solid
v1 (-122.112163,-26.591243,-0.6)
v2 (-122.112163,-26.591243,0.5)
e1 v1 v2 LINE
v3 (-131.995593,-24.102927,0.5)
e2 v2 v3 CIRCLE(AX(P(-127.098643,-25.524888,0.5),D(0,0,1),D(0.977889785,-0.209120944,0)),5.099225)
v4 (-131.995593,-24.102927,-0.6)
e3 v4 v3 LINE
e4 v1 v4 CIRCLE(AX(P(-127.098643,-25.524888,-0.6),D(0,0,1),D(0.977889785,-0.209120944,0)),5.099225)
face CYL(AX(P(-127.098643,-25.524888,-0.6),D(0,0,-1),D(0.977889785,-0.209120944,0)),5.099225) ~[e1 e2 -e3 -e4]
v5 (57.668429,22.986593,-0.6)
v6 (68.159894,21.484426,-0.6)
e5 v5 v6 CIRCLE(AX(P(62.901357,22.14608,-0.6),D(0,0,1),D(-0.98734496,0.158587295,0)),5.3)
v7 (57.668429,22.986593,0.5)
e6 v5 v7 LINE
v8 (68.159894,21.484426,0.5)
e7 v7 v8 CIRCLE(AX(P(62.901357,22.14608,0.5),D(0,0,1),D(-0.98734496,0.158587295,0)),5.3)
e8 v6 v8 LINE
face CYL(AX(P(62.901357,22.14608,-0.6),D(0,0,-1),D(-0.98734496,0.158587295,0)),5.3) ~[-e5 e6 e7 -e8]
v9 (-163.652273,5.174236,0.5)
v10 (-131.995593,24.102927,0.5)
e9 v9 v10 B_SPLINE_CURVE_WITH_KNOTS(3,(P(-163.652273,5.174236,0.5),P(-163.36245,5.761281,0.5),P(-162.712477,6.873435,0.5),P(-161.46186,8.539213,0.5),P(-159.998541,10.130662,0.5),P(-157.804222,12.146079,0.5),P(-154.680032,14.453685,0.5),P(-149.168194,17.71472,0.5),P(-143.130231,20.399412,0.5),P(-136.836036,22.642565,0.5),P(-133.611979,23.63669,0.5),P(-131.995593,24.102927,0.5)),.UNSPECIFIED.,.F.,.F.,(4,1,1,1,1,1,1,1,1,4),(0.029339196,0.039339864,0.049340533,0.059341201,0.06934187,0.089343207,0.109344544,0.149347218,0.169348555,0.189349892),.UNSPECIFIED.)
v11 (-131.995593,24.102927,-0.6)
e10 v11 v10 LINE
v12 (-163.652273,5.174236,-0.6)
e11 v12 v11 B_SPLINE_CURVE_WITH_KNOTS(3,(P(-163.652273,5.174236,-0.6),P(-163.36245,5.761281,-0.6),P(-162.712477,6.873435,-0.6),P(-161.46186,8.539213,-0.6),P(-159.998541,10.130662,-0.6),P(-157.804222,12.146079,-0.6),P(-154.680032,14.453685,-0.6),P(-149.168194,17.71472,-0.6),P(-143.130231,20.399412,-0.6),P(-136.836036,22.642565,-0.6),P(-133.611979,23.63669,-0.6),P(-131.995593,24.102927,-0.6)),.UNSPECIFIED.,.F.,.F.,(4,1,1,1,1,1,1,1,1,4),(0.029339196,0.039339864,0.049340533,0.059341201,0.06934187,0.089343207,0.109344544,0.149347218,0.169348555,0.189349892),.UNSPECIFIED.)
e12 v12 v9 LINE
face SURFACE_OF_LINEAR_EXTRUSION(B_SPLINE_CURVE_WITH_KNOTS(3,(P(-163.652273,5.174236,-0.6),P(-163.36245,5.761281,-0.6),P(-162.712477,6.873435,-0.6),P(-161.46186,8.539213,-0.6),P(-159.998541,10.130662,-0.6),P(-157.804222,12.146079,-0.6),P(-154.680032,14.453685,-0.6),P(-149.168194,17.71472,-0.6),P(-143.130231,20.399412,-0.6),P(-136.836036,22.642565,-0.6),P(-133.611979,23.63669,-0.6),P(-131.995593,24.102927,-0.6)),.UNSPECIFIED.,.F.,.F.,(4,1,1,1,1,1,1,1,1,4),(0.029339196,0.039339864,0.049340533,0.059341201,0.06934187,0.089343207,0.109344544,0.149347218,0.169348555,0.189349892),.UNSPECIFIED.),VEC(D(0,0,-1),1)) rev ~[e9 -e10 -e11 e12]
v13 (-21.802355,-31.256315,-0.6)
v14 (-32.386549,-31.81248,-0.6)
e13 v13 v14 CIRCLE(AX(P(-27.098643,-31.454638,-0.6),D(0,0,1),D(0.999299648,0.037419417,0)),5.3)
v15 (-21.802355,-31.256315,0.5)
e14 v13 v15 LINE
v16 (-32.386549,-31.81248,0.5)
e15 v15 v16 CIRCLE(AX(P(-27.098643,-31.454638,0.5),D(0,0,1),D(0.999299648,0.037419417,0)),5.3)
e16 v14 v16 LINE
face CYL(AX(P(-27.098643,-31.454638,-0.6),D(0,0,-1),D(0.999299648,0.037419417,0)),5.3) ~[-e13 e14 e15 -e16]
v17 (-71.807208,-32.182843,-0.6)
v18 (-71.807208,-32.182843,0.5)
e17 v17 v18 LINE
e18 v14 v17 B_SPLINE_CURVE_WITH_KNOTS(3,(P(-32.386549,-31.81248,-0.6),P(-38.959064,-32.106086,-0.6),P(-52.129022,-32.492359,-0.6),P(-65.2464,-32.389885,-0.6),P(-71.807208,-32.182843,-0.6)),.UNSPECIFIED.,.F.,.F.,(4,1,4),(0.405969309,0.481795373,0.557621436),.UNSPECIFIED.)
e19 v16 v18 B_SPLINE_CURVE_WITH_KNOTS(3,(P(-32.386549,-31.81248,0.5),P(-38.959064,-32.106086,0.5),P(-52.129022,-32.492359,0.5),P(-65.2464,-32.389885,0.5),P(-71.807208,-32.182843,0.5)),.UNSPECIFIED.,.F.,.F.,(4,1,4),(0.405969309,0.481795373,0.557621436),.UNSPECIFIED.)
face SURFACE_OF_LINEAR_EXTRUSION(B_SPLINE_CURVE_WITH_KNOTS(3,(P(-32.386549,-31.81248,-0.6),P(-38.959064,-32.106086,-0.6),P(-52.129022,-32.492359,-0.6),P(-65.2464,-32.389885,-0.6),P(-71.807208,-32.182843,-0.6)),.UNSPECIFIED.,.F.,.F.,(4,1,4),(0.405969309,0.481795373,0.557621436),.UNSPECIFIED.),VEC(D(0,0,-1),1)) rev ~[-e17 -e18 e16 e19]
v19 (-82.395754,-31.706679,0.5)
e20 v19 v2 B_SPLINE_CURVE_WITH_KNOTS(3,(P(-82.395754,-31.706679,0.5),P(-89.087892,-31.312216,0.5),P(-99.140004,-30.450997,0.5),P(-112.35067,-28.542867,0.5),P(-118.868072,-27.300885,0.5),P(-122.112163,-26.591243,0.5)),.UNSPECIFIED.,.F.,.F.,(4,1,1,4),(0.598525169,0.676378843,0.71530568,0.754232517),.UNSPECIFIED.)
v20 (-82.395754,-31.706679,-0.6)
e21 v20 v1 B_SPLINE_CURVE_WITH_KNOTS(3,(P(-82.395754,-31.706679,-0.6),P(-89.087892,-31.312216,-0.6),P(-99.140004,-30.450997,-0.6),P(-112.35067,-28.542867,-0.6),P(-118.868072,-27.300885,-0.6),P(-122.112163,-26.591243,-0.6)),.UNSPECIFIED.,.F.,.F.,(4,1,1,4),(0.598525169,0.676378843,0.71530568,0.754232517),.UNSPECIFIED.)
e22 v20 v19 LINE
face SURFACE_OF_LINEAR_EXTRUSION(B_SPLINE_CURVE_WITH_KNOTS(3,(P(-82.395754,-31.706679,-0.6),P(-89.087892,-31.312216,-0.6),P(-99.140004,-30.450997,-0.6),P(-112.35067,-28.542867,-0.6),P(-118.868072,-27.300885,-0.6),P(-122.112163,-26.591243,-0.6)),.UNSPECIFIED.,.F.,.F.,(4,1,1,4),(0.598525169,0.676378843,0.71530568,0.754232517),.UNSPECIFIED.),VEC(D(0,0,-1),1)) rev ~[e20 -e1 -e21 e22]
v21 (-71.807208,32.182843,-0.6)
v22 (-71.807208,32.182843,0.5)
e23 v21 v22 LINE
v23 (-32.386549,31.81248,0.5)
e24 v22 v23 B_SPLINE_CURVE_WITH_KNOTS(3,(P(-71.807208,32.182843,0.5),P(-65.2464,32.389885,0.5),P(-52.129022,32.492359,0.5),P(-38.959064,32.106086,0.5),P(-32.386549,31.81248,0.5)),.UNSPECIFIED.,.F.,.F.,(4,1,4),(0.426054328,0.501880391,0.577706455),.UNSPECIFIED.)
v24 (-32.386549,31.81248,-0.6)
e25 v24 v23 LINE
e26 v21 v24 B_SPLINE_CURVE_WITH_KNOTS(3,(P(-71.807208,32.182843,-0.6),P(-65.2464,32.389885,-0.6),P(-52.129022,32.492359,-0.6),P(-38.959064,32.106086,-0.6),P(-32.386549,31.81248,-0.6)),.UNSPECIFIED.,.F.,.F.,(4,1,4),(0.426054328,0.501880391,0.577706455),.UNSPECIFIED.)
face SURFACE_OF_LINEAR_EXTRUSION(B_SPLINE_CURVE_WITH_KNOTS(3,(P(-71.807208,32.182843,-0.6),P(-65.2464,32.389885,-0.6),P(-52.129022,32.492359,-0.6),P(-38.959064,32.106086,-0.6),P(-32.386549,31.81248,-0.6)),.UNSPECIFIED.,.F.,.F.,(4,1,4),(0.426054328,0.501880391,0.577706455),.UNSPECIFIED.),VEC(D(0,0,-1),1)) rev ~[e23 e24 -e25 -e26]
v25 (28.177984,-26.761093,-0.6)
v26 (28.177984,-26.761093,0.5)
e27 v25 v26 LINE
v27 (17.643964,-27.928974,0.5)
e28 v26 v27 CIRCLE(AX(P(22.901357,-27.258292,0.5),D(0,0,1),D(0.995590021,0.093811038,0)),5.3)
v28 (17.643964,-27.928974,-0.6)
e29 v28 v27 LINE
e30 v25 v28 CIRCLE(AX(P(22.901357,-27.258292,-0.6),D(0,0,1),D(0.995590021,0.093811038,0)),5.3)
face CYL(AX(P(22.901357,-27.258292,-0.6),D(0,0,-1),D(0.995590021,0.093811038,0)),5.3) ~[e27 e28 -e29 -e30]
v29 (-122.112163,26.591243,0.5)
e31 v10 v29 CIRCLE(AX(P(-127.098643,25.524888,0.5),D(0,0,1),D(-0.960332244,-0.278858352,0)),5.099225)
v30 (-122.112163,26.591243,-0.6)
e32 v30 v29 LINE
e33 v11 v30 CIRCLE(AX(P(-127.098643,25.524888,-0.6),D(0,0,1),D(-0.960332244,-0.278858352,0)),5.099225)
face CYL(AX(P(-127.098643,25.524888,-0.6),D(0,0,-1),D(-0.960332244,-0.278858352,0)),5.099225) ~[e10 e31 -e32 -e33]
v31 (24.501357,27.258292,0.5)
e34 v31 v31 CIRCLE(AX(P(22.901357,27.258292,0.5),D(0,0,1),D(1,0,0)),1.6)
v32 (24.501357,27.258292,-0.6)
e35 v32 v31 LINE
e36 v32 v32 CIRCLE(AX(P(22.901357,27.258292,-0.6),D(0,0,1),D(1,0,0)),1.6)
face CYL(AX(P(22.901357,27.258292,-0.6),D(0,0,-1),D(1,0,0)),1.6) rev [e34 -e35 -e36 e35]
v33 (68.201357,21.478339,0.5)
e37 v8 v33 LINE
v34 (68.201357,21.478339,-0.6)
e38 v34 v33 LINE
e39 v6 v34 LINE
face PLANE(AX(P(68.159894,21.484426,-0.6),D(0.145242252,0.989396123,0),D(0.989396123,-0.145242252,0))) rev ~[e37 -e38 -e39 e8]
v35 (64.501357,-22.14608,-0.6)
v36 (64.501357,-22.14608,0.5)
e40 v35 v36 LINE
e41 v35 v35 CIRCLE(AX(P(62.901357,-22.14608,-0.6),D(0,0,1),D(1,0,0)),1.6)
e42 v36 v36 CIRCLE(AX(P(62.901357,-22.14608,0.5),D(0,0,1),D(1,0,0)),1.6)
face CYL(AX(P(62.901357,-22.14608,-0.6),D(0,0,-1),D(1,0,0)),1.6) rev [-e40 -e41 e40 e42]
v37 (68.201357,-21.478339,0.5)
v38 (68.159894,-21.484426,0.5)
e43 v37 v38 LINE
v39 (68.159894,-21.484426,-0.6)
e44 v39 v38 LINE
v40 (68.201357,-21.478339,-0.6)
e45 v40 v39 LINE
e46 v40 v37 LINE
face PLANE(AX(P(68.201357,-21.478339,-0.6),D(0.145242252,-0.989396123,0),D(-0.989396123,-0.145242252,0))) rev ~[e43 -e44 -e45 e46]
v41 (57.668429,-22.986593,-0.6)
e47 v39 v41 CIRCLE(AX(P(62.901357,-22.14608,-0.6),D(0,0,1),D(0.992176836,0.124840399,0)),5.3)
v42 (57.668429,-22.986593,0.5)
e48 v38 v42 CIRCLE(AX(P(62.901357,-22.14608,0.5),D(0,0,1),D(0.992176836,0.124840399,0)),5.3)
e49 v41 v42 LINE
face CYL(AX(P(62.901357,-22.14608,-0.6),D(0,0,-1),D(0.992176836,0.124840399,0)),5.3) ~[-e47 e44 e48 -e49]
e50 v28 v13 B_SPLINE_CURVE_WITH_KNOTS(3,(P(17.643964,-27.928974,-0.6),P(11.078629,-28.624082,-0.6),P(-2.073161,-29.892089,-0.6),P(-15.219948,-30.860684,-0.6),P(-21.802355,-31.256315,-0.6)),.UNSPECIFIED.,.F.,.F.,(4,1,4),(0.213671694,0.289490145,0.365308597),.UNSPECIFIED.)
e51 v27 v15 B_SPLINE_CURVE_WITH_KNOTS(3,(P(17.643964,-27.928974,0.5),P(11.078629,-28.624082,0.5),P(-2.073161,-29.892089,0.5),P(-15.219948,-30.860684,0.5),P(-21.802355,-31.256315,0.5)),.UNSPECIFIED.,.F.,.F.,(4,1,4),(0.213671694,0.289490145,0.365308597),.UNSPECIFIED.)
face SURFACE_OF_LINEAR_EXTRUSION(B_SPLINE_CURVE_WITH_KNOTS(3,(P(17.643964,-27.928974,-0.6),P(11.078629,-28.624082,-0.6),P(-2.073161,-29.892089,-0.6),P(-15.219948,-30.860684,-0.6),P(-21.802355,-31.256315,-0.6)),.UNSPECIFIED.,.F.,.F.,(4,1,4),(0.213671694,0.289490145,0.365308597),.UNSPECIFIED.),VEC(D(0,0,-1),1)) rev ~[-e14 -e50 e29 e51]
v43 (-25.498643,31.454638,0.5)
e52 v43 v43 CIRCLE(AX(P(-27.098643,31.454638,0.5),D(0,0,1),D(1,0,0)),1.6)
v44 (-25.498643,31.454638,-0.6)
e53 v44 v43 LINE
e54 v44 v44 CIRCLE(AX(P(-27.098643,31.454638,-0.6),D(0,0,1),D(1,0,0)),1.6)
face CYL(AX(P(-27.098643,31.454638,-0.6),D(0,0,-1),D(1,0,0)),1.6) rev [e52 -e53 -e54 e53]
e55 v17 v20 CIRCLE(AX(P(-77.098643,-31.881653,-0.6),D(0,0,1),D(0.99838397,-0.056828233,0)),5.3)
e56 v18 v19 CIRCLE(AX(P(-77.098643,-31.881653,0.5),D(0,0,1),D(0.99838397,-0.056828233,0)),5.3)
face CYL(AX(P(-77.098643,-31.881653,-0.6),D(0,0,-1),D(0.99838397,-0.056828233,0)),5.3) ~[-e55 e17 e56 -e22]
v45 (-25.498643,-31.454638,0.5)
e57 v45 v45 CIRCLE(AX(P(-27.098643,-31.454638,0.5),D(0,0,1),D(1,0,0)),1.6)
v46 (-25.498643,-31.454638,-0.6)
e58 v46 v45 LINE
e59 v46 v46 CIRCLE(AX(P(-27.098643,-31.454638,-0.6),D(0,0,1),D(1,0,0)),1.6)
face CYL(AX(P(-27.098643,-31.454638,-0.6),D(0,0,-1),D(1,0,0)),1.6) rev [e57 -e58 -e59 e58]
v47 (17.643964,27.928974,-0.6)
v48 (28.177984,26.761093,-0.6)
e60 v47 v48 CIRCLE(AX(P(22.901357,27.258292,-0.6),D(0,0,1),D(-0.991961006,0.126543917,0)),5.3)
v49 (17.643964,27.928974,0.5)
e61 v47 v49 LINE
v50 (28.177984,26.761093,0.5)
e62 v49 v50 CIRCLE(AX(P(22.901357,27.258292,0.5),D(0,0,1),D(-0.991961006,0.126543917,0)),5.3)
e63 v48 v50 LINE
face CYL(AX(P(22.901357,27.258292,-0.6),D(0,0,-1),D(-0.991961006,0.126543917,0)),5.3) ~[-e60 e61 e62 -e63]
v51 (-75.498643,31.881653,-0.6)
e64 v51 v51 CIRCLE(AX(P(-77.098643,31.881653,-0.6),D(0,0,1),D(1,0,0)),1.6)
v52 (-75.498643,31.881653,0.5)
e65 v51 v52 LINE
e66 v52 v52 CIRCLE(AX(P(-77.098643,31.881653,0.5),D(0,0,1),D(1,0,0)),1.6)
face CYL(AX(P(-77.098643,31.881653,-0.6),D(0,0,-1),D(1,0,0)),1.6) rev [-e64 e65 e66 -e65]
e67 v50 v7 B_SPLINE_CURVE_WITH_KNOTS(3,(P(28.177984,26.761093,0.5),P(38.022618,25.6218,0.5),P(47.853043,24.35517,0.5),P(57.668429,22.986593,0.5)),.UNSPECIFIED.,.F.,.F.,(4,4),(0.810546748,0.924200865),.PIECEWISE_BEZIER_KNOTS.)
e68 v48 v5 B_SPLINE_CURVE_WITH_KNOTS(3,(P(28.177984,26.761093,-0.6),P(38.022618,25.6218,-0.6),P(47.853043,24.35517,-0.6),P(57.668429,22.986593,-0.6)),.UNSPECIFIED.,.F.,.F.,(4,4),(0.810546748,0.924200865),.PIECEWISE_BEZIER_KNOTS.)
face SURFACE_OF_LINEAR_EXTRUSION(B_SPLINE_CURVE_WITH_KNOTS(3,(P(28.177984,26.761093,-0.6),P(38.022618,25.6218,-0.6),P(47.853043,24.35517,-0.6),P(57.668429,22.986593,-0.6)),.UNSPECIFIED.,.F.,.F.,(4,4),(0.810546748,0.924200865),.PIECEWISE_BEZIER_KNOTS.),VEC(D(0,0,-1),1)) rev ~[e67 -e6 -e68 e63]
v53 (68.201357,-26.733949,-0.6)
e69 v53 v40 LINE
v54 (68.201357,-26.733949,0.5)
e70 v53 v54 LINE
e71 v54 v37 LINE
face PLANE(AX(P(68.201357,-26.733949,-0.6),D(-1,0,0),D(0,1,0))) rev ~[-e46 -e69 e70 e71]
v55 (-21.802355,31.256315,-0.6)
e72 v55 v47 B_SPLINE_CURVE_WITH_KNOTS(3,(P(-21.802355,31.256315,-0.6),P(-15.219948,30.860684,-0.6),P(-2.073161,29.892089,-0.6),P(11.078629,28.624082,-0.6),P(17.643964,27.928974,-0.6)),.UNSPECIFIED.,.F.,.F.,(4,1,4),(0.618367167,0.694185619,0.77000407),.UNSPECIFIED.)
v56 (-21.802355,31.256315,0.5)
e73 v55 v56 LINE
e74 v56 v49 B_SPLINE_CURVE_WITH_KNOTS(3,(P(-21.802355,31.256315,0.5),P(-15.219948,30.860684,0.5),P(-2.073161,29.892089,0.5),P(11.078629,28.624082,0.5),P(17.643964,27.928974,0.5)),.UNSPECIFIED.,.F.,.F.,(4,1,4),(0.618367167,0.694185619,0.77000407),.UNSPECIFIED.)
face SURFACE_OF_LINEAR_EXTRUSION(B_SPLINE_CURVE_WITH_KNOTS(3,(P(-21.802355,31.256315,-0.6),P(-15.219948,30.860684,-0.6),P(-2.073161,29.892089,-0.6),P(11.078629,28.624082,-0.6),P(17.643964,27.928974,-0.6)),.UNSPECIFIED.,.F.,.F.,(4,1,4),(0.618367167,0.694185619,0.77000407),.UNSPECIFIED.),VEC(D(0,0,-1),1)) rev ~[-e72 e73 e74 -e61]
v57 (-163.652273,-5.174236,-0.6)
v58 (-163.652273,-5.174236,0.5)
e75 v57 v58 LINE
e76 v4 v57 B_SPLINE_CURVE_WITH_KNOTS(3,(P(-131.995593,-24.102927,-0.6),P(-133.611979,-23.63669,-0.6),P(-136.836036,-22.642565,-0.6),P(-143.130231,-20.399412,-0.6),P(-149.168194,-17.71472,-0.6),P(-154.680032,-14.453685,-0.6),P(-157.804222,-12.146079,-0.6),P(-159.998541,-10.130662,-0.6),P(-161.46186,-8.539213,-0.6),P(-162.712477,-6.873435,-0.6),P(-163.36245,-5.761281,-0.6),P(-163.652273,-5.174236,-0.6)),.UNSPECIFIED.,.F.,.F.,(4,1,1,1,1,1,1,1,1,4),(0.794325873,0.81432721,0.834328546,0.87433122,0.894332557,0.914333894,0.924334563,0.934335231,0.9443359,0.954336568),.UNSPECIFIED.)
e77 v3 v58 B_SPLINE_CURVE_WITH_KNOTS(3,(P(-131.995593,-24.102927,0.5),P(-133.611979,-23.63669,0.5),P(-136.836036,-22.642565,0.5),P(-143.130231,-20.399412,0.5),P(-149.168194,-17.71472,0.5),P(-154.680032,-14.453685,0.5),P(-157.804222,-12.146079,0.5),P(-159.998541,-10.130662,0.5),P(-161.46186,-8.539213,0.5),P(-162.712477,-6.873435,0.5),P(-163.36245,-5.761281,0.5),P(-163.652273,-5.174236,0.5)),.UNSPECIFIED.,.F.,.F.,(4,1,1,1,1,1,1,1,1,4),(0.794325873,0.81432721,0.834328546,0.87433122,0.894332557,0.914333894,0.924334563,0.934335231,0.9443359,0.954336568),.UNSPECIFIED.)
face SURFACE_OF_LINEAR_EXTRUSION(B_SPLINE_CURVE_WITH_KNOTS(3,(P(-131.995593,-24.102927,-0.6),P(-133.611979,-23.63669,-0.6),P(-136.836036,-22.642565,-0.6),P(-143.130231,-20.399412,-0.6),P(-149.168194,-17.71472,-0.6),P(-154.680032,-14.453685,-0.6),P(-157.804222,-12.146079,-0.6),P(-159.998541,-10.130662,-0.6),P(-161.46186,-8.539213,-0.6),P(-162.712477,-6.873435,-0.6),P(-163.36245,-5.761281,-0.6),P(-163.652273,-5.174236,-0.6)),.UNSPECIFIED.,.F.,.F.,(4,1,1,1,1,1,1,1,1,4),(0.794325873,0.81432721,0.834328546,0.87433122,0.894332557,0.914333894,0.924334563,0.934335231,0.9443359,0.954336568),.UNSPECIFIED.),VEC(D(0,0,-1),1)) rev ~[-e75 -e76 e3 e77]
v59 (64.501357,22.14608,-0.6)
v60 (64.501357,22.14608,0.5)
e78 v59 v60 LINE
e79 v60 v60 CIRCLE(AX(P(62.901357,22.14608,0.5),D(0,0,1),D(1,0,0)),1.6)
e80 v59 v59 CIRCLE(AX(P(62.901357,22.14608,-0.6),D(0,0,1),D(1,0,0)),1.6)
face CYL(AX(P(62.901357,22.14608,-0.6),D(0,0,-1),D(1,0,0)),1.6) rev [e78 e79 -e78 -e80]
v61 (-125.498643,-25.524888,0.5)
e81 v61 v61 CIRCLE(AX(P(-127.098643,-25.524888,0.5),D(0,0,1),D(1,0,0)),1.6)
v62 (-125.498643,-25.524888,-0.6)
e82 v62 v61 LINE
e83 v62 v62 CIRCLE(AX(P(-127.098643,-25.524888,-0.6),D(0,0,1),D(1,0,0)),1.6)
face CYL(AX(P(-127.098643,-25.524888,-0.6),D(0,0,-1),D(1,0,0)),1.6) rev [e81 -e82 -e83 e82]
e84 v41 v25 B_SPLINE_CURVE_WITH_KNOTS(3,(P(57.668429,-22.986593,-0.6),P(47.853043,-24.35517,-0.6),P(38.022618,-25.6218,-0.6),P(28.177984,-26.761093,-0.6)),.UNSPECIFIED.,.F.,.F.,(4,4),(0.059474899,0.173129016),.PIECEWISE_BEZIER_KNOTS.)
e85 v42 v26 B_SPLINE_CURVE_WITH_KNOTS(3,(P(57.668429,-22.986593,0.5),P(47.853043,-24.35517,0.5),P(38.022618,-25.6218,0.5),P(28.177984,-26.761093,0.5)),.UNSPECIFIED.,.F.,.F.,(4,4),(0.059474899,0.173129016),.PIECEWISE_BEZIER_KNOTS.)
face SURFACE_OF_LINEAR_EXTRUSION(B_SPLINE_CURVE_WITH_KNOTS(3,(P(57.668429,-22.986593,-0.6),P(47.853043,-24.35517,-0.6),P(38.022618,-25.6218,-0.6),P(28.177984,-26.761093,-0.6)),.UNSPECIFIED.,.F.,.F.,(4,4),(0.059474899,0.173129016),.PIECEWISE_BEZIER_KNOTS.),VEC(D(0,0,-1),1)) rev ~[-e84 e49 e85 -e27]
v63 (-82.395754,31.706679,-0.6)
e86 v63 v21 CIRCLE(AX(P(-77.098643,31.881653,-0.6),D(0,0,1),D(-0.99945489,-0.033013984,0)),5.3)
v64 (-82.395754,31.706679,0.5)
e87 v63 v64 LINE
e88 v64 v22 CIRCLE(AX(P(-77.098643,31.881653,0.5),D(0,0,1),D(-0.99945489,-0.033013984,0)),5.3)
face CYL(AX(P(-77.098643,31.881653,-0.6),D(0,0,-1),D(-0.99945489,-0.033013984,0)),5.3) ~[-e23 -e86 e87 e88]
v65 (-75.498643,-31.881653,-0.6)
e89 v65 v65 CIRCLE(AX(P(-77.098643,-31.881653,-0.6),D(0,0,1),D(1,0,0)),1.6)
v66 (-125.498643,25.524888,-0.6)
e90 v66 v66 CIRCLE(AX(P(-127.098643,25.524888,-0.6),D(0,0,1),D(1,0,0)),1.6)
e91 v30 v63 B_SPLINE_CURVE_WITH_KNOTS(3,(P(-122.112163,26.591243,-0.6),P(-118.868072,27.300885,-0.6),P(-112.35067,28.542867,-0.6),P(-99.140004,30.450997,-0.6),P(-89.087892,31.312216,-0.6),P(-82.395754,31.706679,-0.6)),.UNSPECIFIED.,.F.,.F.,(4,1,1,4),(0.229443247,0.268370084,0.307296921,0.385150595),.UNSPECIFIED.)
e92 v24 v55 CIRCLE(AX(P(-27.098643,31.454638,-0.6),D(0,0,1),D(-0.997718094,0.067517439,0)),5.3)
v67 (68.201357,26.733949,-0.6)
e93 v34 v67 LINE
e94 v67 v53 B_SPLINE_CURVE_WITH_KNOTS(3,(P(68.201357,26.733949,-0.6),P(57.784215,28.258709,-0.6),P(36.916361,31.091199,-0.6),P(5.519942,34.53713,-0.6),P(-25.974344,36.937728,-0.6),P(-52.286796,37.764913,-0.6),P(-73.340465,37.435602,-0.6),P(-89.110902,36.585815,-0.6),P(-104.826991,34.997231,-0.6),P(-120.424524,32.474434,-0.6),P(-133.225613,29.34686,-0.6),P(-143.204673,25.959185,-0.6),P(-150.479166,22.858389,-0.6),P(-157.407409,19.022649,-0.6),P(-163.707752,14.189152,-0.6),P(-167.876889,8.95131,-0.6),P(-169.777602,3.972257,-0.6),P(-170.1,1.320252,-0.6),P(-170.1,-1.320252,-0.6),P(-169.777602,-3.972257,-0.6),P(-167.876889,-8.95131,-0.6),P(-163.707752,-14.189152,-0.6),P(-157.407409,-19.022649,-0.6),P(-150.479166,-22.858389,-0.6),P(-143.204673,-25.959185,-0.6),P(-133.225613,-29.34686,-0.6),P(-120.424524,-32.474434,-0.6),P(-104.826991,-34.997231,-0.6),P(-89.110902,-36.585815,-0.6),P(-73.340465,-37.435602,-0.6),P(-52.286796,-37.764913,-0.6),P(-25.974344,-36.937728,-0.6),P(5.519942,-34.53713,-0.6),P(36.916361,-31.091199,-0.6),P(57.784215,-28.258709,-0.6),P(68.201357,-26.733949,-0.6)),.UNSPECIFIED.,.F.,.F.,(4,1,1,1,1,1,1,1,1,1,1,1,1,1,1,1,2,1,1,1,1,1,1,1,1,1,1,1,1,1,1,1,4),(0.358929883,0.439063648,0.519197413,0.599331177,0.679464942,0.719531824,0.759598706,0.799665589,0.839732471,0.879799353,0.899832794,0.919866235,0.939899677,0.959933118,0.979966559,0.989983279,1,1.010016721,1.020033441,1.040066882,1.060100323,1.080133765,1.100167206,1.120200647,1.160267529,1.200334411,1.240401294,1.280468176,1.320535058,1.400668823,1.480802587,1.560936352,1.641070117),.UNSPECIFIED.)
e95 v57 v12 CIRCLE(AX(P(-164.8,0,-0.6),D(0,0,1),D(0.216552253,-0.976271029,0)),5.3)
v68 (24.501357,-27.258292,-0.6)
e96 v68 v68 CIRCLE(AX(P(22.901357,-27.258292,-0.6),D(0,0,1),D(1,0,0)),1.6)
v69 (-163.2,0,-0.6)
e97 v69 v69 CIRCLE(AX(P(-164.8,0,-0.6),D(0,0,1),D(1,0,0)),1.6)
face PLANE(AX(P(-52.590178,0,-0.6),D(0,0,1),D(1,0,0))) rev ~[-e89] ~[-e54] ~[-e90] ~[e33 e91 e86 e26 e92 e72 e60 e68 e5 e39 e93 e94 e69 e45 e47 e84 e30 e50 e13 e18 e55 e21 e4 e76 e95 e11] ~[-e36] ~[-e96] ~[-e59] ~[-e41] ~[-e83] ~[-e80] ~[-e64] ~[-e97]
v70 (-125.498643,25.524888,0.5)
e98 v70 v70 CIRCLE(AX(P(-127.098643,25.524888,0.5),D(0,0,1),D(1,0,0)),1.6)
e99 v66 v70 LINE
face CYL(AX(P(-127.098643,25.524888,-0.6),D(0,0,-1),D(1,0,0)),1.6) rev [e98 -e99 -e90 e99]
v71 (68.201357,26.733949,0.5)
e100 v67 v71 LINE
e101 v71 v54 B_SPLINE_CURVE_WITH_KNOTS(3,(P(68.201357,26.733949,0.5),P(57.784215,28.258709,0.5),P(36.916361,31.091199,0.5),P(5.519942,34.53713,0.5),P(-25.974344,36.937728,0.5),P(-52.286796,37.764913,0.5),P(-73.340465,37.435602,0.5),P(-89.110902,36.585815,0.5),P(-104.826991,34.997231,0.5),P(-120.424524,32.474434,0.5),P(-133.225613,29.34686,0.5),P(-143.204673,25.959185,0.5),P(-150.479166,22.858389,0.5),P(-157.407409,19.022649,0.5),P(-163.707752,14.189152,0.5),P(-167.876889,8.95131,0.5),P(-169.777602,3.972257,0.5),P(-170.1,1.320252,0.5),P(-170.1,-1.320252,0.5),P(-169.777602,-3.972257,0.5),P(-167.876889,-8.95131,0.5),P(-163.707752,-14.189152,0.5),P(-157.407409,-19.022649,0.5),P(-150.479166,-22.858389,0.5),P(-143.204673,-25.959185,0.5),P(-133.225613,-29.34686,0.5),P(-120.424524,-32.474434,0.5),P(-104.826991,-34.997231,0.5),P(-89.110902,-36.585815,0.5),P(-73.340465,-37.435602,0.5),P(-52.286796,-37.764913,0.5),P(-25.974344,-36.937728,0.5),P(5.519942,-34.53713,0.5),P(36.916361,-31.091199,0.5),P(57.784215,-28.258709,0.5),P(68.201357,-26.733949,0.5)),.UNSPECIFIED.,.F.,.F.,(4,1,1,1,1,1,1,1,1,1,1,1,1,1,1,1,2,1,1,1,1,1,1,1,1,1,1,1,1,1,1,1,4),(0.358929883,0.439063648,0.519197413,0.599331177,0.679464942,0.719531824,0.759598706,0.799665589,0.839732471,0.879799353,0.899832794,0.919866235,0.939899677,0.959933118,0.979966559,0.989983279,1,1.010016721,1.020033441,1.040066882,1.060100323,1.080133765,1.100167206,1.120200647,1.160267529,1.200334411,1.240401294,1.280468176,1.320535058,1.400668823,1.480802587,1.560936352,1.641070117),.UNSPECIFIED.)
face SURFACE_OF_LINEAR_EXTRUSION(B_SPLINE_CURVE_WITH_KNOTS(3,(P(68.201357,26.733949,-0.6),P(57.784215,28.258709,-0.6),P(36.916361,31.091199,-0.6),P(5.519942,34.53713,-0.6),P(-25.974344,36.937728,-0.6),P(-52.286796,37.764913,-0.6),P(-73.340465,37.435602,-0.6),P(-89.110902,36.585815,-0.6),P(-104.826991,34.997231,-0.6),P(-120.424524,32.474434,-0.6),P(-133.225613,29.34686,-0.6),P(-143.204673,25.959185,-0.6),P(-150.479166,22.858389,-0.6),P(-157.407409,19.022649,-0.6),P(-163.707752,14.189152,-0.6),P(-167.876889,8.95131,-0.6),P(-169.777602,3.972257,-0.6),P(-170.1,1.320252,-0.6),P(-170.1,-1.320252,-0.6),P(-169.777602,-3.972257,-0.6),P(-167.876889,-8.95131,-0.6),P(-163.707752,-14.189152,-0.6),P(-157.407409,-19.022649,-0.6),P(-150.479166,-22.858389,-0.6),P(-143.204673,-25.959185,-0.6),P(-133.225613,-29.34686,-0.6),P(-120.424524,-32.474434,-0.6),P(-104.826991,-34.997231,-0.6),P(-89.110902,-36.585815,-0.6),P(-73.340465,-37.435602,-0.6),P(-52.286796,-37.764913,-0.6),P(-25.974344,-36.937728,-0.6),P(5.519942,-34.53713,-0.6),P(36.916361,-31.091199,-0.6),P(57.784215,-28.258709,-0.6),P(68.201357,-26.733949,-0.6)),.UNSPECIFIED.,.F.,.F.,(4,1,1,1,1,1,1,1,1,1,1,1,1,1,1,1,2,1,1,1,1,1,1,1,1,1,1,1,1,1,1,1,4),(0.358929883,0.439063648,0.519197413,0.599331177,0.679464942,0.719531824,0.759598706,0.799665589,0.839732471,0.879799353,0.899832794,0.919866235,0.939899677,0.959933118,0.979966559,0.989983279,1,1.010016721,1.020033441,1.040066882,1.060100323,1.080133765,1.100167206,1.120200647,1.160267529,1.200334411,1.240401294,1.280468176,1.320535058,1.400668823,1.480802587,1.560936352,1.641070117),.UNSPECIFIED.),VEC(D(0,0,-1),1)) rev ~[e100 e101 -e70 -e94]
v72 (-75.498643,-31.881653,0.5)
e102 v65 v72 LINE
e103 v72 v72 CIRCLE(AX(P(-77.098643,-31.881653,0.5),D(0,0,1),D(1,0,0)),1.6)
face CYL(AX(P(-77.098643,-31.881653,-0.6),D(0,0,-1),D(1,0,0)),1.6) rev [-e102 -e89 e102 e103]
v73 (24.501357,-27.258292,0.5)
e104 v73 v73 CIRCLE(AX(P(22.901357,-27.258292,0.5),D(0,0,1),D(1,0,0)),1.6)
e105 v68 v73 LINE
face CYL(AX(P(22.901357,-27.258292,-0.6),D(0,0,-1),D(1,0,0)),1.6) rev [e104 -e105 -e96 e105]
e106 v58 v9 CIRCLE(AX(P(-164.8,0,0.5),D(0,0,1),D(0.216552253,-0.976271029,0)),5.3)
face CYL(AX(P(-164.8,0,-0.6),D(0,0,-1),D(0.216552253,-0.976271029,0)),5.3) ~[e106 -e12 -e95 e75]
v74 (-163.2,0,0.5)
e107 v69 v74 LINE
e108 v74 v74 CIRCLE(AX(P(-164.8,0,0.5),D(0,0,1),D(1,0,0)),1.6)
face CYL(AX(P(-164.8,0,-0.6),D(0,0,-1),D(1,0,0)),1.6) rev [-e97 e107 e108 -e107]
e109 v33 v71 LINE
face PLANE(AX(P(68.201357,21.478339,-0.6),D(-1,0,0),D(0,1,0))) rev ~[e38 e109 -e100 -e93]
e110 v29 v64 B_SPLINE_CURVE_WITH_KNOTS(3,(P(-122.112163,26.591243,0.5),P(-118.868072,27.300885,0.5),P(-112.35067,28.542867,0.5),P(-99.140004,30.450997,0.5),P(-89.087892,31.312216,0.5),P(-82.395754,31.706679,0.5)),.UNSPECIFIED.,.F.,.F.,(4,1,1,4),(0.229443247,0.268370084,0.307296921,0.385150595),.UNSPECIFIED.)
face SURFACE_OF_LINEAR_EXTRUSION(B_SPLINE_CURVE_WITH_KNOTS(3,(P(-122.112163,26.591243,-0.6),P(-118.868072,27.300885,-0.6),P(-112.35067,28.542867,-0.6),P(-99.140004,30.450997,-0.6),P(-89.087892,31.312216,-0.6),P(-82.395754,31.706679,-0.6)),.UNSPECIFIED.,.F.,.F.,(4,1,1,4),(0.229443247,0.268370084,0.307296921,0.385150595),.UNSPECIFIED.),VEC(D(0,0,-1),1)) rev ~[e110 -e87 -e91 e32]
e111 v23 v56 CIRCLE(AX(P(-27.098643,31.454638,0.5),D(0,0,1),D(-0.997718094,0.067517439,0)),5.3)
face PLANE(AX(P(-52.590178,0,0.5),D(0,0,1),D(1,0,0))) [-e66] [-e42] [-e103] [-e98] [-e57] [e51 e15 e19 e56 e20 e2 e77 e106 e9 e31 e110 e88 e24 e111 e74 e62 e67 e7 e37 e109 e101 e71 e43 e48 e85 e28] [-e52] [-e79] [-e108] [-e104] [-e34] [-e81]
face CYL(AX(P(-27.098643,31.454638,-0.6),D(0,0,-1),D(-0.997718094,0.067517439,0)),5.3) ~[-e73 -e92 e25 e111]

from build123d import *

# Parameters (mm, degrees)
BOSS_EXTRUDE1_DEPTH      = 0.5
BOSS_EXTRUDE1_DEPTH_BACK = 0.6
SKETCH2_R                = 1.6


with BuildPart() as part:
    # Sketch2 → Boss-Extrude1 (new, two sides: drawn at the far end of the back side and taken through both)
    with BuildSketch(Plane.XY.offset(-BOSS_EXTRUDE1_DEPTH_BACK)):
        with BuildLine():
            Line((68.201357245, -26.733949273), (68.201357245, -21.47833931))
            Line((68.201357245, -21.47833931), (68.159894479, -21.484425998))
            ThreePointArc((68.159894479, -21.484425998), (62.15016472, -16.899585112), (57.668428958, -22.986592774))
            add(Edge.make_bspline(
                [(57.668428958, -22.986592774), (47.853043444, -24.355170303), (38.022617831, -25.621799852), (28.177984355, -26.761093033)],
                knots=[0.059474899, 0.059474899, 0.059474899, 0.059474899, 0.173129016, 0.173129016, 0.173129016, 0.173129016], degree=3))
            ThreePointArc((28.177984355, -26.761093033), (22.31733743, -21.990567086), (17.643963915, -27.928974294))
            add(Edge.make_bspline(
                [(17.643963915, -27.928974294), (11.078628537, -28.624082245), (-2.07316099, -29.892088868), (-15.219948256, -30.860683929), (-21.802354618, -31.256314848)],
                knots=[0.213671694, 0.213671694, 0.213671694, 0.213671694, 0.289490145, 0.365308597, 0.365308597, 0.365308597, 0.365308597], degree=3))
            ThreePointArc((-21.802354618, -31.256314848), (-27.376757004, -26.161939726), (-32.386548654, -31.812480184))
            add(Edge.make_bspline(
                [(-32.386548654, -31.812480184), (-38.959063535, -32.106086463), (-52.129021906, -32.492359058), (-65.246399747, -32.389884675), (-71.807207713, -32.182843085)],
                knots=[0.405969309, 0.405969309, 0.405969309, 0.405969309, 0.481795373, 0.557621436, 0.557621436, 0.557621436, 0.557621436], degree=3))
            ThreePointArc((-71.807207713, -32.182843085), (-76.860543966, -26.587004362), (-82.395753671, -31.706679335))
            add(Edge.make_bspline(
                [(-82.395753671, -31.706679335), (-89.087892098, -31.312216423), (-99.140003614, -30.45099657), (-112.350669892, -28.542867343), (-118.868072113, -27.300885184), (-122.112163065, -26.591242701)],
                knots=[0.598525169, 0.598525169, 0.598525169, 0.598525169, 0.676378843, 0.71530568, 0.754232517, 0.754232517, 0.754232517, 0.754232517], degree=3))
            ThreePointArc((-122.112163065, -26.591242701), (-125.853679665, -20.579975606), (-131.995592602, -24.102926647))
            add(Edge.make_bspline(
                [(-131.995592602, -24.102926647), (-133.611979112, -23.636690133), (-136.836035695, -22.642564712), (-143.130231184, -20.39941201), (-149.168194106, -17.714720355), (-154.680031551, -14.453685135), (-157.804221697, -12.146079416), (-159.99854138, -10.130661783), (-161.461859738, -8.539212982), (-162.712476821, -6.873435276), (-163.362450026, -5.761281043), (-163.65227306, -5.174236453)],
                knots=[0.794325873, 0.794325873, 0.794325873, 0.794325873, 0.81432721, 0.834328546, 0.87433122, 0.894332557, 0.914333894, 0.924334563, 0.934335231, 0.9443359, 0.954336568, 0.954336568, 0.954336568, 0.954336568], degree=3))
            ThreePointArc((-163.65227306, -5.174236453), (-159.5, 0), (-163.65227306, 5.174236453))
            add(Edge.make_bspline(
                [(-163.65227306, 5.174236453), (-163.362450026, 5.761281043), (-162.712476821, 6.873435276), (-161.461859738, 8.539212982), (-159.99854138, 10.130661783), (-157.804221697, 12.146079416), (-154.680031551, 14.453685135), (-149.168194106, 17.714720355), (-143.130231184, 20.39941201), (-136.836035695, 22.642564712), (-133.611979112, 23.636690133), (-131.995592602, 24.102926647)],
                knots=[0.029339196, 0.029339196, 0.029339196, 0.029339196, 0.039339864, 0.049340533, 0.059341201, 0.06934187, 0.089343207, 0.109344544, 0.149347218, 0.169348555, 0.189349892, 0.189349892, 0.189349892, 0.189349892], degree=3))
            ThreePointArc((-131.995592602, 24.102926647), (-125.853679665, 20.579975606), (-122.112163065, 26.591242701))
            add(Edge.make_bspline(
                [(-122.112163065, 26.591242701), (-118.868072113, 27.300885184), (-112.350669892, 28.542867343), (-99.140003614, 30.45099657), (-89.087892098, 31.312216423), (-82.395753671, 31.706679335)],
                knots=[0.229443247, 0.229443247, 0.229443247, 0.229443247, 0.268370084, 0.307296921, 0.385150595, 0.385150595, 0.385150595, 0.385150595], degree=3))
            ThreePointArc((-82.395753671, 31.706679335), (-76.860543966, 26.587004362), (-71.807207713, 32.182843085))
            add(Edge.make_bspline(
                [(-71.807207713, 32.182843085), (-65.246399747, 32.389884675), (-52.129021906, 32.492359058), (-38.959063535, 32.106086463), (-32.386548654, 31.812480184)],
                knots=[0.426054328, 0.426054328, 0.426054328, 0.426054328, 0.501880391, 0.577706455, 0.577706455, 0.577706455, 0.577706455], degree=3))
            ThreePointArc((-32.386548654, 31.812480184), (-27.376757004, 26.161939726), (-21.802354618, 31.256314848))
            add(Edge.make_bspline(
                [(-21.802354618, 31.256314848), (-15.219948256, 30.860683929), (-2.07316099, 29.892088868), (11.078628537, 28.624082245), (17.643963915, 27.928974294)],
                knots=[0.618367167, 0.618367167, 0.618367167, 0.618367167, 0.694185619, 0.77000407, 0.77000407, 0.77000407, 0.77000407], degree=3))
            ThreePointArc((17.643963915, 27.928974294), (22.31733743, 21.990567086), (28.177984355, 26.761093033))
            add(Edge.make_bspline(
                [(28.177984355, 26.761093033), (38.022617831, 25.621799852), (47.853043444, 24.355170303), (57.668428958, 22.986592774)],
                knots=[0.810546748, 0.810546748, 0.810546748, 0.810546748, 0.924200865, 0.924200865, 0.924200865, 0.924200865], degree=3))
            ThreePointArc((57.668428958, 22.986592774), (62.15016472, 16.899585112), (68.159894479, 21.484425998))
            Line((68.159894479, 21.484425998), (68.201357245, 21.47833931))
            Line((68.201357245, 21.47833931), (68.201357245, 26.733949273))
            add(Edge.make_bspline(
                [(68.201357245, 26.733949273), (57.784215293, 28.258709207), (36.91636144, 31.091199089), (5.519942378, 34.537130133), (-25.974344285, 36.93772808), (-52.286796003, 37.764913232), (-73.340464706, 37.435601761), (-89.110901654, 36.585815405), (-104.8269913, 34.997231417), (-120.424524002, 32.474434182), (-133.225613254, 29.346860436), (-143.204672645, 25.95918533), (-150.479166338, 22.858389104), (-157.407409466, 19.022648577), (-163.707752392, 14.189151794), (-167.876889302, 8.951310427), (-169.777602037, 3.972256807), (-170.1, 1.320251829), (-170.1, 0)],
                knots=[0.358929883, 0.358929883, 0.358929883, 0.358929883, 0.439063648, 0.519197413, 0.599331177, 0.679464942, 0.719531824, 0.759598706, 0.799665589, 0.839732471, 0.879799353, 0.899832794, 0.919866235, 0.939899677, 0.959933118, 0.979966559, 0.989983279, 1, 1, 1, 1], degree=3))
            add(Edge.make_bspline(
                [(-170.1, 0), (-170.1, -1.320251828), (-169.777602037, -3.972256807), (-167.876889302, -8.951310426), (-163.707752392, -14.189151794), (-157.407409466, -19.022648577), (-150.479166338, -22.858389104), (-143.204672645, -25.95918533), (-133.225613254, -29.346860436), (-120.424524002, -32.474434182), (-104.8269913, -34.997231416), (-89.110901654, -36.585815405), (-73.340464706, -37.435601761), (-52.286796003, -37.764913232), (-25.974344285, -36.93772808), (5.519942378, -34.537130133), (36.91636144, -31.091199089), (57.784215293, -28.258709207), (68.201357245, -26.733949273)],
                knots=[0.359149159, 0.359149159, 0.359149159, 0.359149159, 0.36916588, 0.3791826, 0.399216041, 0.419249482, 0.439282924, 0.459316365, 0.479349806, 0.519416688, 0.55948357, 0.599550453, 0.639617335, 0.679684217, 0.759817982, 0.839951746, 0.920085511, 1.000219276, 1.000219276, 1.000219276, 1.000219276], degree=3))
        make_face()
        with Locations((62.901357245, 22.146080113)):
            Circle(SKETCH2_R, mode=Mode.SUBTRACT)
        with Locations((22.901357245, 27.258291533)):
            Circle(SKETCH2_R, mode=Mode.SUBTRACT)
        with Locations((-27.098642755, 31.454637758)):
            Circle(SKETCH2_R, mode=Mode.SUBTRACT)
        with Locations((-77.098642755, 31.88165345)):
            Circle(SKETCH2_R, mode=Mode.SUBTRACT)
        with Locations((-127.098642755, 25.52488803)):
            Circle(SKETCH2_R, mode=Mode.SUBTRACT)
        with Locations((-164.8, 0)):
            Circle(SKETCH2_R, mode=Mode.SUBTRACT)
        with Locations((-77.098642755, -31.88165345)):
            Circle(SKETCH2_R, mode=Mode.SUBTRACT)
        with Locations((-27.098642755, -31.454637758)):
            Circle(SKETCH2_R, mode=Mode.SUBTRACT)
        with Locations((22.901357245, -27.258291533)):
            Circle(SKETCH2_R, mode=Mode.SUBTRACT)
        with Locations((62.901357245, -22.146080113)):
            Circle(SKETCH2_R, mode=Mode.SUBTRACT)
        with Locations((-127.098642755, -25.52488803)):
            Circle(SKETCH2_R, mode=Mode.SUBTRACT)
    extrude(amount=BOSS_EXTRUDE1_DEPTH + BOSS_EXTRUDE1_DEPTH_BACK)


solid = part.part
